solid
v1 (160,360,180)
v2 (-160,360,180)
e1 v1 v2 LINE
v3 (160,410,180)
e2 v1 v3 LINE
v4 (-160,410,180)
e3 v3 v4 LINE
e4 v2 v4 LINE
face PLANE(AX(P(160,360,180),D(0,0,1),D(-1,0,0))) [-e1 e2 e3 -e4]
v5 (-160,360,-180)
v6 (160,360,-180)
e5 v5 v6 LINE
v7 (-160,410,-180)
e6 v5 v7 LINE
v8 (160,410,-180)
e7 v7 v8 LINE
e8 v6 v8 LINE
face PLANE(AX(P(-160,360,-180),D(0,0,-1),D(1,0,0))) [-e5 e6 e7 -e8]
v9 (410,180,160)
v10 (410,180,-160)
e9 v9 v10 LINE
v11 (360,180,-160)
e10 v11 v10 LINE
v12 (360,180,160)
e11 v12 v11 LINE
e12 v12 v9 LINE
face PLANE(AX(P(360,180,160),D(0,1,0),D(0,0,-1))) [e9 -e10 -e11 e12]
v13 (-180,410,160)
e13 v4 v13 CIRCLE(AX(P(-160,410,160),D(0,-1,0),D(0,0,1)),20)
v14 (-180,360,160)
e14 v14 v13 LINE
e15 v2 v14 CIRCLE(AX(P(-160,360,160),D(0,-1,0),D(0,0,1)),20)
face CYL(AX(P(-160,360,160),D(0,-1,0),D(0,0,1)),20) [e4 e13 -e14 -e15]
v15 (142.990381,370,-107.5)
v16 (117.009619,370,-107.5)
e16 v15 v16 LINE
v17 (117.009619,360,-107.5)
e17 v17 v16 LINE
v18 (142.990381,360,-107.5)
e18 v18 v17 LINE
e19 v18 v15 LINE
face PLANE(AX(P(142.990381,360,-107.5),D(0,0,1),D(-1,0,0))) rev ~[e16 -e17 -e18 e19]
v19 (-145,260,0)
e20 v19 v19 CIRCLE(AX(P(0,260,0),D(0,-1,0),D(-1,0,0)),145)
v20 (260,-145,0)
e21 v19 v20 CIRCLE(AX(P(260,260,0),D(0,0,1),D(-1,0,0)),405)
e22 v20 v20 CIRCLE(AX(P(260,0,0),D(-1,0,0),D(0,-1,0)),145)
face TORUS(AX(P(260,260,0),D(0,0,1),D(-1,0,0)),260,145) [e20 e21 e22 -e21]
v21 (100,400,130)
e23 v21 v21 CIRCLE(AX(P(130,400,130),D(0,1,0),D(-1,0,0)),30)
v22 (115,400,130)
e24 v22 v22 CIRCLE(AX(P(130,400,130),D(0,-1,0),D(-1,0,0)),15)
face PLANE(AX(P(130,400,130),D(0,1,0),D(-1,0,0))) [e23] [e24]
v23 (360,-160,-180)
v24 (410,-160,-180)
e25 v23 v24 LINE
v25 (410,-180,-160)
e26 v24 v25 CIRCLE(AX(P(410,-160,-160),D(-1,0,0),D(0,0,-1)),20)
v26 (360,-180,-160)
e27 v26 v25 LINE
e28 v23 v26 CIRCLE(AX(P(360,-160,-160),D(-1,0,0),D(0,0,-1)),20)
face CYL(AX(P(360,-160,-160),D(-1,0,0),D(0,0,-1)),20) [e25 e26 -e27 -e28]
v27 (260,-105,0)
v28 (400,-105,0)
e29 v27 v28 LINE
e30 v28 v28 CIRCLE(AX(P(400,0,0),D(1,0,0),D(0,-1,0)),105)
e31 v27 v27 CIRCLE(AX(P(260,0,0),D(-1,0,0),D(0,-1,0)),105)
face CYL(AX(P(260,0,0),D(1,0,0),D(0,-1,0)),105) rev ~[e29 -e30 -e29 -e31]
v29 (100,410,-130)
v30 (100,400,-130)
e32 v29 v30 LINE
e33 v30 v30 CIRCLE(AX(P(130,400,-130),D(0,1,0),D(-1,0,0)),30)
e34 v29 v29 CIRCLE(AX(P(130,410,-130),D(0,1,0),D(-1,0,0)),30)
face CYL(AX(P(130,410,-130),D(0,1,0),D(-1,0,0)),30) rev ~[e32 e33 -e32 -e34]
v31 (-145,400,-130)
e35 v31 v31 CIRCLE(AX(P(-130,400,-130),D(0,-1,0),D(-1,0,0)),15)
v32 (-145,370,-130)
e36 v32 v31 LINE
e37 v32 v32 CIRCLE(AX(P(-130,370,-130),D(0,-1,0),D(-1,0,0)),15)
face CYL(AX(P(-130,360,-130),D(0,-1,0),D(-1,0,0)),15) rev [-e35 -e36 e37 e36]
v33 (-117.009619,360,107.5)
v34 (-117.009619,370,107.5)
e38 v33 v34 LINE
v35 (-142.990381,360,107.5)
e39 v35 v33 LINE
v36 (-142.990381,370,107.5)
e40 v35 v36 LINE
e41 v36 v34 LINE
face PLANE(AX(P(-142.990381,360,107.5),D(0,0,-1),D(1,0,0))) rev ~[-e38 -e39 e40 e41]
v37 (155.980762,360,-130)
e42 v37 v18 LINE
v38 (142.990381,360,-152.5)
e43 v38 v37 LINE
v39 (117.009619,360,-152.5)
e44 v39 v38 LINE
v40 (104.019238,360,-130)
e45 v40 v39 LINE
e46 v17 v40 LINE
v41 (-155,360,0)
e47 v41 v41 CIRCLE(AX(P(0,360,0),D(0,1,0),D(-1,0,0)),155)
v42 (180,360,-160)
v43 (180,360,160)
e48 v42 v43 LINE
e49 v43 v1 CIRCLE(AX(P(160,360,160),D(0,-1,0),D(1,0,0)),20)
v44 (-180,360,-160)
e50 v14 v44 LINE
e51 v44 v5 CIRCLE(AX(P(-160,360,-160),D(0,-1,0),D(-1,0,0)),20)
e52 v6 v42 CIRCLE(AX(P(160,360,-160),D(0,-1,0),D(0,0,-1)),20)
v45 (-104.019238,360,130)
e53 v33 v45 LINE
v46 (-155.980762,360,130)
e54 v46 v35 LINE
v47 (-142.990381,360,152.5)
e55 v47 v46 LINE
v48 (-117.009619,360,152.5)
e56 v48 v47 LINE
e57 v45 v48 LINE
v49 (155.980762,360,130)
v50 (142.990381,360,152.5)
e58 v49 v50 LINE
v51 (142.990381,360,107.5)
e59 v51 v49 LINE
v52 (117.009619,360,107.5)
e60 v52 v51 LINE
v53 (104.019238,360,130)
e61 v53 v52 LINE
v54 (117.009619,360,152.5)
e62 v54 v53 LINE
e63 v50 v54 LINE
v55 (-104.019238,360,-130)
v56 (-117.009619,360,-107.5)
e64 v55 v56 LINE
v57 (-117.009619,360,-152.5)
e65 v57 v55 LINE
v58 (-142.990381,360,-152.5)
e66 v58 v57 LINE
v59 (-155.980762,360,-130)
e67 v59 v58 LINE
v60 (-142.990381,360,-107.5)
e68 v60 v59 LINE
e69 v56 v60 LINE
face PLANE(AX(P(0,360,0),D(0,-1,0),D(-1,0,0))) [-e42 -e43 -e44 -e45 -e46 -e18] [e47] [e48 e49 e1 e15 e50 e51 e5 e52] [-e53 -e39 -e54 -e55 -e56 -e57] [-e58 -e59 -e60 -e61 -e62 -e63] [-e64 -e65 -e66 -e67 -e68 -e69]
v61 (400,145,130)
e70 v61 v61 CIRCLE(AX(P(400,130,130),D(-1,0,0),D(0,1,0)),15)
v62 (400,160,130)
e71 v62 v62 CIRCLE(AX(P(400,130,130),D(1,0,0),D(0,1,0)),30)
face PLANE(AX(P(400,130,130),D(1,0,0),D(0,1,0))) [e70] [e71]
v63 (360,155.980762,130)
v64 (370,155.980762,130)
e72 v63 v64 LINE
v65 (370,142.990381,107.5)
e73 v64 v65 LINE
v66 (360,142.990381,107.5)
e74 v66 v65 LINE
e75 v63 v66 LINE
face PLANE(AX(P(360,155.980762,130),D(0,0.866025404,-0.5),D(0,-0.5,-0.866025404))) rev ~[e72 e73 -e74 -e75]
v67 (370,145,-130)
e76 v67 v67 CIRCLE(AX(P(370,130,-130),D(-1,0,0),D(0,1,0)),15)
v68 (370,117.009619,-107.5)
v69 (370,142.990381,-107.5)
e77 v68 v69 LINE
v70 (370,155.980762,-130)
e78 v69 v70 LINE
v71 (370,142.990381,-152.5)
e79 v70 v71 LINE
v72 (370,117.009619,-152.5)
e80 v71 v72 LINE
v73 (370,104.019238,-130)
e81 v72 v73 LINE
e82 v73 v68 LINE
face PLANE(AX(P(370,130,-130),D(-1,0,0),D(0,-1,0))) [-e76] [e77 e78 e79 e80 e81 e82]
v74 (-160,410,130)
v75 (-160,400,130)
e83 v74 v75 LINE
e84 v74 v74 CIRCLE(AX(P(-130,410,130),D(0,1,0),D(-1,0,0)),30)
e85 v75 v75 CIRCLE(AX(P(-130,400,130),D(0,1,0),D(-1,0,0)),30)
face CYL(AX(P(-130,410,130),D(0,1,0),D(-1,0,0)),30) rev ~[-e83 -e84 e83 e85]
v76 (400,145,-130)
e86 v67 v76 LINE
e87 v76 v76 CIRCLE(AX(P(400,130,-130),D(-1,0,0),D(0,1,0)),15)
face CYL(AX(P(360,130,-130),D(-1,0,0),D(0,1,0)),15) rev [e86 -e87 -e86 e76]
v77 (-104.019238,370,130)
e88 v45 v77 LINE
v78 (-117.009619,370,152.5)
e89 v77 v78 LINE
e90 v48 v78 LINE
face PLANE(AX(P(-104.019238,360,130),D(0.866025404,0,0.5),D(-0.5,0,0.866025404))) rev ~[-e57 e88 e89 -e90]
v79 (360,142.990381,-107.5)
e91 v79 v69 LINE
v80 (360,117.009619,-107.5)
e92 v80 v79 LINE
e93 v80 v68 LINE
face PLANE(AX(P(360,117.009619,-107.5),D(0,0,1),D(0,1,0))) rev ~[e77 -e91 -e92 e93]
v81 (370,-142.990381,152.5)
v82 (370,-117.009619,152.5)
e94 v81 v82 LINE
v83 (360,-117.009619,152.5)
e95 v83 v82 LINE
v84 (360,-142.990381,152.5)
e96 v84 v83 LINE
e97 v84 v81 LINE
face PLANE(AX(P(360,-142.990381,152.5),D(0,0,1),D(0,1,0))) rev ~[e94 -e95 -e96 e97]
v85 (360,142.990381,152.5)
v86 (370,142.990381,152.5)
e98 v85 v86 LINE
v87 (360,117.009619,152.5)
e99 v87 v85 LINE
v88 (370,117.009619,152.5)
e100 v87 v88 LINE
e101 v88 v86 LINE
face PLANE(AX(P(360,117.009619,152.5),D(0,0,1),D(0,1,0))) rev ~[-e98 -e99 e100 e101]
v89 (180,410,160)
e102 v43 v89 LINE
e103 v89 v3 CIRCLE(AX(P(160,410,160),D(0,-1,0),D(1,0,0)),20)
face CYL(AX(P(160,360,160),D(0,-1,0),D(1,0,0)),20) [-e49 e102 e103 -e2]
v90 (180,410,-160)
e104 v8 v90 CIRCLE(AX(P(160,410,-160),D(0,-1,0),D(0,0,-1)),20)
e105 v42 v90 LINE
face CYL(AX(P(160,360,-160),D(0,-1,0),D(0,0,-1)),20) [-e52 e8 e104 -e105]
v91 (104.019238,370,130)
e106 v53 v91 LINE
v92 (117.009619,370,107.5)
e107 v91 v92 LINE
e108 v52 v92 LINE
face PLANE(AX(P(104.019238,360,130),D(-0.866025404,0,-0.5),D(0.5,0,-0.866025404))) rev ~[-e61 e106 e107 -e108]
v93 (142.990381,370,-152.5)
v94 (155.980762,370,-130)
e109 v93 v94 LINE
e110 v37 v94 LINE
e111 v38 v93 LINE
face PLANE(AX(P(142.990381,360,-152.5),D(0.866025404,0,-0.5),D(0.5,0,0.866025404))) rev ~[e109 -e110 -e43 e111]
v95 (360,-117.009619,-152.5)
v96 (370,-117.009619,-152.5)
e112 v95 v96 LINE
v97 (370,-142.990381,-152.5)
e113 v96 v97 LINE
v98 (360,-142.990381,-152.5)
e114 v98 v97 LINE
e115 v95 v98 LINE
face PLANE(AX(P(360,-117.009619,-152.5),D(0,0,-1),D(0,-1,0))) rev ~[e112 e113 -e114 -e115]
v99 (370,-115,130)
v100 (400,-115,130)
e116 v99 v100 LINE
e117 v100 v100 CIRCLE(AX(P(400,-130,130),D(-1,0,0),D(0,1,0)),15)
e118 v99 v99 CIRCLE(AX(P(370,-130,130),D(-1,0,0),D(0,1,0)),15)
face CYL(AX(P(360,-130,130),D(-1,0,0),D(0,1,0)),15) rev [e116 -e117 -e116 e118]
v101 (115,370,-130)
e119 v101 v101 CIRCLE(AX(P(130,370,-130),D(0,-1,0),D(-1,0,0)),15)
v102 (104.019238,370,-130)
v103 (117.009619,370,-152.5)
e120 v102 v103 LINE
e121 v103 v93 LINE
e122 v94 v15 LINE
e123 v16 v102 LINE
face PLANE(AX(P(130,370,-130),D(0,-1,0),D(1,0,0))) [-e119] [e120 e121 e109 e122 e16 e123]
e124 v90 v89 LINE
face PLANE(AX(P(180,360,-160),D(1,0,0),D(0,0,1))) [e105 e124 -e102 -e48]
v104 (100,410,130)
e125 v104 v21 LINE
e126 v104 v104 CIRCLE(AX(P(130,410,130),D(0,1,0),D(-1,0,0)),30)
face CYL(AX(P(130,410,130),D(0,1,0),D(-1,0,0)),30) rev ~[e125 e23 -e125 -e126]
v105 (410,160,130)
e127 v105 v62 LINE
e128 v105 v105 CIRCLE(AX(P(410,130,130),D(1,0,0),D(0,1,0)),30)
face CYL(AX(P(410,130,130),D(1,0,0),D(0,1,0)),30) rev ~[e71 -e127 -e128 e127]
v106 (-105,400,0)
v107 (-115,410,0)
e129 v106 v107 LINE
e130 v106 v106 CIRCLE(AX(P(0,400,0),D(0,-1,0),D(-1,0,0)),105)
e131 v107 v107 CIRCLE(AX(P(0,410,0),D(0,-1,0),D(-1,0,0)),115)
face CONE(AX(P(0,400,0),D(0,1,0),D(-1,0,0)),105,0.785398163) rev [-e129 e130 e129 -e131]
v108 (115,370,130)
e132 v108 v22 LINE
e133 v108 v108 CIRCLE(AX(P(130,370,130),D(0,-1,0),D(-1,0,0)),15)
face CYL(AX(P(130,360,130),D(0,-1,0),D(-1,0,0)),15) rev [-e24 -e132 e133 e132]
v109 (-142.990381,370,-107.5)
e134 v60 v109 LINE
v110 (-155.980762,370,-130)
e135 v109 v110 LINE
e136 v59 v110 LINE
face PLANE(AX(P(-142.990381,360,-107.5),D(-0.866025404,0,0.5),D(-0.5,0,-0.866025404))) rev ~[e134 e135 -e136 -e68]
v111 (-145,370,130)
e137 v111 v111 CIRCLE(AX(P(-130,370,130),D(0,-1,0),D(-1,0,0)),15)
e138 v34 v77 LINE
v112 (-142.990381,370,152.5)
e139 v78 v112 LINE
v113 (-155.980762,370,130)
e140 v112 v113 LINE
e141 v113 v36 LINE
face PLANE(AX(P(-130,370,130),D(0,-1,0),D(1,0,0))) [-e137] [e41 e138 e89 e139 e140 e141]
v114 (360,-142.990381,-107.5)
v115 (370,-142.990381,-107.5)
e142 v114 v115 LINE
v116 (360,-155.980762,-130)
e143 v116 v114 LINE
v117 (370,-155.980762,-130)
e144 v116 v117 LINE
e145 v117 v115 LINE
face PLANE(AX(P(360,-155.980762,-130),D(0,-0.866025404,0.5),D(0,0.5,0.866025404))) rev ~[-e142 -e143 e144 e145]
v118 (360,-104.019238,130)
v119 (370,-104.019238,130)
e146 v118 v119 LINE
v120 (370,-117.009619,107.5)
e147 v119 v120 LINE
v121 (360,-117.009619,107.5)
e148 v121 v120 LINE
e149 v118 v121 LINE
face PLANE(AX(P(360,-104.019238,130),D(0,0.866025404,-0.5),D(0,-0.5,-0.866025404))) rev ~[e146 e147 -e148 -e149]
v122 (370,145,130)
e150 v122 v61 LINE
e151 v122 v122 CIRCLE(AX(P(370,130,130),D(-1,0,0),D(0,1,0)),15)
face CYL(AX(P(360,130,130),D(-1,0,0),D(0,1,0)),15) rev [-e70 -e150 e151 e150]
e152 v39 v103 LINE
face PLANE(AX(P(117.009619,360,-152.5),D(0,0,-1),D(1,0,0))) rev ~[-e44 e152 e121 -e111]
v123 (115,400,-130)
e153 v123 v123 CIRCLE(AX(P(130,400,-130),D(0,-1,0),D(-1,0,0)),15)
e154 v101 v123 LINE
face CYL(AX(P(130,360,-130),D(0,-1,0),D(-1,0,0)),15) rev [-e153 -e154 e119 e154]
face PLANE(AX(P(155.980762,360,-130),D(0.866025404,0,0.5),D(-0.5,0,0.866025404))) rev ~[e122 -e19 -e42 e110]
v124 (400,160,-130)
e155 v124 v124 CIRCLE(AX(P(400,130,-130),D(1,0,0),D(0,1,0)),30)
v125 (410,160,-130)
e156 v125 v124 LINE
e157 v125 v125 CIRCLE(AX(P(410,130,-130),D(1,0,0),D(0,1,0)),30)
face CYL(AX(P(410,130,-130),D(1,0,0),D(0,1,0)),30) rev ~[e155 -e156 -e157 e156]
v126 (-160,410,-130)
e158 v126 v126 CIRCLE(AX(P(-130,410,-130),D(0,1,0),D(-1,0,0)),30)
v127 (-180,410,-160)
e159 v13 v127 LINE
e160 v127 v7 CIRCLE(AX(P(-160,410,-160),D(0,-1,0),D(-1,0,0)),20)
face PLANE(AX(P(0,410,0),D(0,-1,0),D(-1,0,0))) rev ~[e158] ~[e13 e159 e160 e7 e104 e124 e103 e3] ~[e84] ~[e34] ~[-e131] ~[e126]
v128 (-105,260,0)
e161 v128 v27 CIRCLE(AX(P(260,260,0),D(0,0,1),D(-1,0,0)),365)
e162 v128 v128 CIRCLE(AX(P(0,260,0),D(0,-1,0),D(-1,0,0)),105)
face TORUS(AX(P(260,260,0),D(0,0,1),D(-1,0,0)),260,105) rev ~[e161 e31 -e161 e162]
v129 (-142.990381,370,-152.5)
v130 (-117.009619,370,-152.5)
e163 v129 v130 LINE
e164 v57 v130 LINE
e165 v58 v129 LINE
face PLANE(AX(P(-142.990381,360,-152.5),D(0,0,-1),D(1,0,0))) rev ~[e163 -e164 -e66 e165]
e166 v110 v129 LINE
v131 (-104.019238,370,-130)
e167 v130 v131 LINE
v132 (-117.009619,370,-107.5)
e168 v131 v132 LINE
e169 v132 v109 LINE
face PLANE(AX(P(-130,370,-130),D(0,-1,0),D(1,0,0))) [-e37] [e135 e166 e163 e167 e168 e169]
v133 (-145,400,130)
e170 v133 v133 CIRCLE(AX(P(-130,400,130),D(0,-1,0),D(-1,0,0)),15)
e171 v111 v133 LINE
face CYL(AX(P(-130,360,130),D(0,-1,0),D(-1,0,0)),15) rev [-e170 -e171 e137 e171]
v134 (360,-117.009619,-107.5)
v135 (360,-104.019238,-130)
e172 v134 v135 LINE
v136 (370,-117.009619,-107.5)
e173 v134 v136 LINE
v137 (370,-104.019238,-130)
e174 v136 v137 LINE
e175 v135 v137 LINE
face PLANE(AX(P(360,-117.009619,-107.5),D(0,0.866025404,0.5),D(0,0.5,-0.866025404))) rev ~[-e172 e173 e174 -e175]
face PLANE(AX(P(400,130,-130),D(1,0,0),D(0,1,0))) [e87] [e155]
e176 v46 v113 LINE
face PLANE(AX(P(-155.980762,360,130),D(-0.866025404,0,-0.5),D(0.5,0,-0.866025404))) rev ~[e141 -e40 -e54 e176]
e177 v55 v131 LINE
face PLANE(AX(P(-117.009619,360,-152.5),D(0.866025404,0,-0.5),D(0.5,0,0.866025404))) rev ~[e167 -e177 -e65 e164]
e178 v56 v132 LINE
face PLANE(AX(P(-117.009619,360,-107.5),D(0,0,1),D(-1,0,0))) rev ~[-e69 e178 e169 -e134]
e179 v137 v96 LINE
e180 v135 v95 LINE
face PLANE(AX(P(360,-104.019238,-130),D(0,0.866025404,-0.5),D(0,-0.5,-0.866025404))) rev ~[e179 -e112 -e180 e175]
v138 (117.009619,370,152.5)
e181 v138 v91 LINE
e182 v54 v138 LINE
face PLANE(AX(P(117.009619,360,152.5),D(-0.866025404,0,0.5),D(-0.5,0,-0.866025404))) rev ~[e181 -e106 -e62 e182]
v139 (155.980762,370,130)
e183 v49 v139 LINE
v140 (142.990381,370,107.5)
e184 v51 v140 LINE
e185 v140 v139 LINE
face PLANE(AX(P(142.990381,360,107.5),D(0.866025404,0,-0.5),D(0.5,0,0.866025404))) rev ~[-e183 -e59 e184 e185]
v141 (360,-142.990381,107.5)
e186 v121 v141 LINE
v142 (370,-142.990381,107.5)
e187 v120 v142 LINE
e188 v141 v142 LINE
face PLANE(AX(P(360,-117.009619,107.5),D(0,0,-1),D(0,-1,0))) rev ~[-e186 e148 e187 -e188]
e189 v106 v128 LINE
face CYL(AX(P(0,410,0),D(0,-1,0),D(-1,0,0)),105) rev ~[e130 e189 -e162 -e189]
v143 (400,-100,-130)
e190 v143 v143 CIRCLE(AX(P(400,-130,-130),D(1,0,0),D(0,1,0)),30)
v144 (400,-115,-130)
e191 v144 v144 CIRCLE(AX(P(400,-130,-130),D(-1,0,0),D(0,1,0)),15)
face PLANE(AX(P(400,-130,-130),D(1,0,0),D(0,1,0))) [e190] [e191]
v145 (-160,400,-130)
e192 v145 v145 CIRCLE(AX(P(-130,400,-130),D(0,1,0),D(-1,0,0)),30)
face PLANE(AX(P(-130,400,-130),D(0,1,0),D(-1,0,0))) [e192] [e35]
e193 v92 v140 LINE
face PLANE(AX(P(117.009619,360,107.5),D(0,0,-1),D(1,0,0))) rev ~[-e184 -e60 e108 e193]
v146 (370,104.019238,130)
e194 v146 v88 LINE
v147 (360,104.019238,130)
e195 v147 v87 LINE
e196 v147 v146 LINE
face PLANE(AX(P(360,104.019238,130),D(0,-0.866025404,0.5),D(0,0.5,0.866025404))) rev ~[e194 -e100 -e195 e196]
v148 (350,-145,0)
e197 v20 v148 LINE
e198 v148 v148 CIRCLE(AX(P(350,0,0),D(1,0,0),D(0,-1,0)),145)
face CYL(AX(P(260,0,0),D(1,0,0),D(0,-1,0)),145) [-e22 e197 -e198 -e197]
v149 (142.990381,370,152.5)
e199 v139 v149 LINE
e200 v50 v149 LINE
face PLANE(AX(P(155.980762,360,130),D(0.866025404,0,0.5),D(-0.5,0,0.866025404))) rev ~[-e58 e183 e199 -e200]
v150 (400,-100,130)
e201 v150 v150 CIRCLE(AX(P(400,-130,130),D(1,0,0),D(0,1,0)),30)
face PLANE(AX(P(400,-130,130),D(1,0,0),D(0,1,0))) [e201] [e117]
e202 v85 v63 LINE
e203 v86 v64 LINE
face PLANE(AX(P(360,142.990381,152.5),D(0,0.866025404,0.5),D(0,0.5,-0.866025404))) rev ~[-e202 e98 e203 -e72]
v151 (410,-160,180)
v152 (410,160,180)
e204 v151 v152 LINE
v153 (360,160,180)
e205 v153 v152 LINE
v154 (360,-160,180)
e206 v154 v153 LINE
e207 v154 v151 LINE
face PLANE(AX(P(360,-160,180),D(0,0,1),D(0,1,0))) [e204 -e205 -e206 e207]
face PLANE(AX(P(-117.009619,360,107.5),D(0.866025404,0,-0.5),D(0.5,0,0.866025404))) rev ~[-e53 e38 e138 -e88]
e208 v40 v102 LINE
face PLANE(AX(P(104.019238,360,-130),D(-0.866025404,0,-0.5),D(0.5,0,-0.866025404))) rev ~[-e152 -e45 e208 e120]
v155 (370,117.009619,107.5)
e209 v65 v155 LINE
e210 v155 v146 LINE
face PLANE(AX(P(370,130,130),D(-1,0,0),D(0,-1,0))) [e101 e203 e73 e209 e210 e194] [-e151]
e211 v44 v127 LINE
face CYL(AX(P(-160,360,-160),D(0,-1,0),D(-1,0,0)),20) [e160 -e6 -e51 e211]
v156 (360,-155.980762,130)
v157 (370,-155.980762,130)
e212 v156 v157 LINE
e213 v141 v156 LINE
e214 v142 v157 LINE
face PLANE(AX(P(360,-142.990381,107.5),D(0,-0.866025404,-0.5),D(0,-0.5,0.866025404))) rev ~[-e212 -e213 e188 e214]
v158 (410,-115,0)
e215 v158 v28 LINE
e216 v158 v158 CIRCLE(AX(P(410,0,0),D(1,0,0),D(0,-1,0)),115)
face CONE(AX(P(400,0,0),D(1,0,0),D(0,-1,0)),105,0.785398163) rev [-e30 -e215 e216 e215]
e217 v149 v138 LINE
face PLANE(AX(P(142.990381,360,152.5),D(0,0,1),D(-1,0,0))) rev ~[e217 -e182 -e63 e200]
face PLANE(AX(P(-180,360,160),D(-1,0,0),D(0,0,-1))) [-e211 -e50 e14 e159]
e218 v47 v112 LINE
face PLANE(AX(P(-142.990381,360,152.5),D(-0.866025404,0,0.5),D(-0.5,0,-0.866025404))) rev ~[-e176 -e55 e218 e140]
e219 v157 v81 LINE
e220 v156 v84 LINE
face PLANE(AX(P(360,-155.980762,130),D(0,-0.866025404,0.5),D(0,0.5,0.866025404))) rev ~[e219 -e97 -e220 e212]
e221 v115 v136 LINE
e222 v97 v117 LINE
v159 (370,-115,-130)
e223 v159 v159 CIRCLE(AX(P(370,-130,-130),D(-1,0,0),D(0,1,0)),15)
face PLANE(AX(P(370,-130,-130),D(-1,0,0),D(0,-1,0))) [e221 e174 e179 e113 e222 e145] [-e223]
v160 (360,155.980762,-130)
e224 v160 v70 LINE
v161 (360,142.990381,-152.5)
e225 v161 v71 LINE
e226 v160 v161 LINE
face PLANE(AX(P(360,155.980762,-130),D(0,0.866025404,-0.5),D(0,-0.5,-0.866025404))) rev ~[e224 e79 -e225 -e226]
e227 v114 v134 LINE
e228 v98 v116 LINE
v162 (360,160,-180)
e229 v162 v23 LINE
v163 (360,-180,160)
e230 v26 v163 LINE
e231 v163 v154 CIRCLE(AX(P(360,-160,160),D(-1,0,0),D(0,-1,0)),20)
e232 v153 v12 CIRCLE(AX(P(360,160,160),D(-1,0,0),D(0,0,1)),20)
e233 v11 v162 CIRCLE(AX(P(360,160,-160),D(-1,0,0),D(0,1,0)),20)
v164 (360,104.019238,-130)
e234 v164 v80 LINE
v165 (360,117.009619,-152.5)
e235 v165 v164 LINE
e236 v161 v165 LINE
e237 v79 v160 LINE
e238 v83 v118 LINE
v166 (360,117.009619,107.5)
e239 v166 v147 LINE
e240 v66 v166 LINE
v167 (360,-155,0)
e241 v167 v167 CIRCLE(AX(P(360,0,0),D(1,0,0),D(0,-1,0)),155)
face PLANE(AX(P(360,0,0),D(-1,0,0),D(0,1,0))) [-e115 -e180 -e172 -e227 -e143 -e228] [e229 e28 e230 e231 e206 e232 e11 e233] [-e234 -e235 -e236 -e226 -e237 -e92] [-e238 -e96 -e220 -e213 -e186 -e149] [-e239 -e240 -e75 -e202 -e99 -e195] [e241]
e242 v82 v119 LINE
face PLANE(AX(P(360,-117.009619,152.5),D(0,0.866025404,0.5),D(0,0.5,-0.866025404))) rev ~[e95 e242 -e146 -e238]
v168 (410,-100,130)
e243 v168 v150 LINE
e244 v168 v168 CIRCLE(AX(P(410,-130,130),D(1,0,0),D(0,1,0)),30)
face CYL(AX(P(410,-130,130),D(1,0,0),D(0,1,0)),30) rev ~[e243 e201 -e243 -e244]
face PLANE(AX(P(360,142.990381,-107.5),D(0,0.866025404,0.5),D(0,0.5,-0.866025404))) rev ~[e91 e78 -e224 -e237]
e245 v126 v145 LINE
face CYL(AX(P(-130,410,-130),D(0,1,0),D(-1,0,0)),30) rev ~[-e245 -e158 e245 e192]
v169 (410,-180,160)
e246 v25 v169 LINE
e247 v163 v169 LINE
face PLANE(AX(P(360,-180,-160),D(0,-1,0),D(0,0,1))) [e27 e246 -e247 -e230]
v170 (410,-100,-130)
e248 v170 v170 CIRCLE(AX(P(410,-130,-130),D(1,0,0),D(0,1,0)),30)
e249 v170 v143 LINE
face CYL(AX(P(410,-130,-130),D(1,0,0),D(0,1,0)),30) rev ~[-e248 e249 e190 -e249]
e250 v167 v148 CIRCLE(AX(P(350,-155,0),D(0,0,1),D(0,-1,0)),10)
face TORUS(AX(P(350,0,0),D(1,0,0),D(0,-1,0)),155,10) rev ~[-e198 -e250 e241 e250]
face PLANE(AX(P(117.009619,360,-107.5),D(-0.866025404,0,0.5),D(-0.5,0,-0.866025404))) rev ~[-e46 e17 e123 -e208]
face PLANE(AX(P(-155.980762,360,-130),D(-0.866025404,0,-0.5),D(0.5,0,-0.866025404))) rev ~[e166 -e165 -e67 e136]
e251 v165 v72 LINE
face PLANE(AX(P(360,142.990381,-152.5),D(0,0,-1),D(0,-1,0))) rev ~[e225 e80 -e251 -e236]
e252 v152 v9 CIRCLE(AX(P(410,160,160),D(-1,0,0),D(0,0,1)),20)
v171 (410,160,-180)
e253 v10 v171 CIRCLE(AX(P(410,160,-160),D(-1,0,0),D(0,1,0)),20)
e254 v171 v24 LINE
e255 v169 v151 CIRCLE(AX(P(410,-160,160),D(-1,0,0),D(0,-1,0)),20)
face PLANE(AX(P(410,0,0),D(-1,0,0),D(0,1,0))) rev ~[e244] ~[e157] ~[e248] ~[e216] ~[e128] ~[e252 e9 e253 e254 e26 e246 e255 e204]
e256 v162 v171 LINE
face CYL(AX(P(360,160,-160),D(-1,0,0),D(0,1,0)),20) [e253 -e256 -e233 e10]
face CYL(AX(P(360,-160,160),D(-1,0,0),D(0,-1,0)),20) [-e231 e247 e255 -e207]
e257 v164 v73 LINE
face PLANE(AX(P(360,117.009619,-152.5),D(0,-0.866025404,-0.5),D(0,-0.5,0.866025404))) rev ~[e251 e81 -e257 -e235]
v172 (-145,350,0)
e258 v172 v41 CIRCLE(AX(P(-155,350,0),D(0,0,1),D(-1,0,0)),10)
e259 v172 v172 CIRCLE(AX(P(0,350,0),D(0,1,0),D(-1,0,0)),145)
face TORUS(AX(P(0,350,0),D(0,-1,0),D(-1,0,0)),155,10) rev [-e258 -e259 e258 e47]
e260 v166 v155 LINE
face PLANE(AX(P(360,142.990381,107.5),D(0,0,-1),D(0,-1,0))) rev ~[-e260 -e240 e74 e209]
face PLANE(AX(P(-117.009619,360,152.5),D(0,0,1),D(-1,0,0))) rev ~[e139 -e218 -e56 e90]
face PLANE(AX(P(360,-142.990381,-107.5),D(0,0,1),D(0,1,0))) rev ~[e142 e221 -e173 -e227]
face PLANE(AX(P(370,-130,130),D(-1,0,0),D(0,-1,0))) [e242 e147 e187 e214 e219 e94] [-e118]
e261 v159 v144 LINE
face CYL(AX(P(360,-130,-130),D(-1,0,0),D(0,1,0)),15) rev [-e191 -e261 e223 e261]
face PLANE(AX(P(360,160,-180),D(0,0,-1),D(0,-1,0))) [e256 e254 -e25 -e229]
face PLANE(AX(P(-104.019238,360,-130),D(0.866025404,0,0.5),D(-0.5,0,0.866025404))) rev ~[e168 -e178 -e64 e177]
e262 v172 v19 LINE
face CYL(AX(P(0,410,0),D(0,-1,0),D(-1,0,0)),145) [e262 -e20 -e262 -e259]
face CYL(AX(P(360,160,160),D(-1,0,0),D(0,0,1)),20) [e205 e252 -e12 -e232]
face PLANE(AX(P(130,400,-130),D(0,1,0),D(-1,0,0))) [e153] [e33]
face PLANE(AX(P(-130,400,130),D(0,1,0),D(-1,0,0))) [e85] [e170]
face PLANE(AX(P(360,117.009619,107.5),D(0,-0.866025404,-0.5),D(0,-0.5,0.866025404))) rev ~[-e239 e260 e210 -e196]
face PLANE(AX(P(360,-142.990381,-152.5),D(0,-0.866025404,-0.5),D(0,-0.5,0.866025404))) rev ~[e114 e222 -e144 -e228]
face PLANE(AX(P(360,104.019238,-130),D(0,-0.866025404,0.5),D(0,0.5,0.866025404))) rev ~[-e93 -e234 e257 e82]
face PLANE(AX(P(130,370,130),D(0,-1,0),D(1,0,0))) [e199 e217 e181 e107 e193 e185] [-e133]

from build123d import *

# Parameters (mm, degrees)
SWEEP_THIN1_PROFILE_R   = 145
SWEEP_THIN1_PROFILE_R_2 = 105
BOSS_EXTRUDE1_START     = -50
SKETCH16_R              = 15
SKETCH16_R_2            = 145
BOSS_EXTRUDE1_DEPTH     = 50
SKETCH17_R              = 30
CUT_EXTRUDE1_DEPTH      = 10
CIRPATTERN1_COUNT       = 2
CIRPATTERN1_ANGLE       = 90
CHAMFER1_SIZE           = 10
FILLET1_R               = 10
CUT_EXTRUDE3_DEPTH      = 10
CIRPATTERN4_COUNT       = 2
CIRPATTERN4_ANGLE       = 90


with BuildPart() as part:
    # Sweep-Thin1: sweep along a path in Sketch1
    with BuildLine(Plane.XY) as sweep_thin1_path:
        Line((0, 410), (0, 260))
        ThreePointArc((0, 260), (76.152236891, 76.152236891), (260, 0))
        Line((260, 0), (410, 0))
    # Sweep-Thin1 profile (on start of the path) → Sweep-Thin1 (sweep)
    with BuildSketch(Plane(origin=(0, 410, 0), x_dir=(-1, 0, 0), z_dir=(0, -1, 0))):
        Circle(SWEEP_THIN1_PROFILE_R)
        Circle(SWEEP_THIN1_PROFILE_R_2, mode=Mode.SUBTRACT)
    sweep(path=sweep_thin1_path.line)

    # Sketch16 → Boss-Extrude1 (add)
    with BuildSketch(Plane(origin=(0, 410, 0), x_dir=(1, 0, 0), z_dir=(0, 1, 0)).offset(BOSS_EXTRUDE1_START)):
        with BuildLine():
            Line((-160, 180), (160, 180))
            ThreePointArc((160, 180), (174.142135624, 174.142135624), (180, 160))
            Line((180, 160), (180, -160))
            ThreePointArc((180, -160), (174.142135624, -174.142135624), (160, -180))
            Line((160, -180), (-160, -180))
            ThreePointArc((-160, -180), (-174.142135624, -174.142135624), (-180, -160))
            Line((-180, -160), (-180, 160))
            ThreePointArc((-180, 160), (-174.142135624, 174.142135624), (-160, 180))
        make_face()
        with Locations(Location((-130, -130, 0), (0, 0, 180))):
            Circle(SKETCH16_R, mode=Mode.SUBTRACT)
        with Locations(Location((130, -130, 0), (0, 0, 180))):
            Circle(SKETCH16_R, mode=Mode.SUBTRACT)
        with Locations(Location((-130, 130, 0), (0, 0, 180))):
            Circle(SKETCH16_R, mode=Mode.SUBTRACT)
        with Locations(Location((130, 130, 0), (0, 0, 180))):
            Circle(SKETCH16_R, mode=Mode.SUBTRACT)
        with Locations(Location((0, 0, 0), (0, 0, 180))):
            Circle(SKETCH16_R_2, mode=Mode.SUBTRACT)
    boss_extrude1 = extrude(amount=BOSS_EXTRUDE1_DEPTH)

    # Sketch17 → Cut-Extrude1 (cut)
    with BuildSketch(Plane(origin=(0, 410, 0), x_dir=(1, 0, 0), z_dir=(0, 1, 0))):
        with Locations(Location((-130, 130, 0), (0, 0, 180))):
            Circle(SKETCH17_R)
        with Locations(Location((130, 130, 0), (0, 0, 180))):
            Circle(SKETCH17_R)
        with Locations(Location((130, -130, 0), (0, 0, 180))):
            Circle(SKETCH17_R)
        with Locations(Location((-130, -130, 0), (0, 0, 180))):
            Circle(SKETCH17_R)
    cut_extrude1 = extrude(amount=-CUT_EXTRUDE1_DEPTH, mode=Mode.SUBTRACT)

    # CirPattern1: Boss-Extrude1, Cut-Extrude1 ×2 about axis
    cirpattern1_axis = Axis((0, 0, 0), (0, 0, -1))
    add([boss_extrude1.rotate(cirpattern1_axis, i * CIRPATTERN1_ANGLE / (CIRPATTERN1_COUNT - 1)) for i in range(1, CIRPATTERN1_COUNT)])
    add([cut_extrude1.rotate(cirpattern1_axis, i * CIRPATTERN1_ANGLE / (CIRPATTERN1_COUNT - 1)) for i in range(1, CIRPATTERN1_COUNT)], mode=Mode.SUBTRACT)

    # Chamfer1
    chamfer1_edges = [part.edges().sort_by_distance(p)[0] for p in [
        (105, 410, 0),
        (410, 105, 0),
    ]]
    chamfer(chamfer1_edges, length=CHAMFER1_SIZE)

    # Fillet1
    fillet1_edges = [part.edges().sort_by_distance(p)[0] for p in [
        (145, 360, 0),
        (360, 145, 0),
    ]]
    fillet(fillet1_edges, radius=FILLET1_R)

    # Sketch25 → Cut-Extrude3 (cut)
    with BuildSketch(Plane.XZ.offset(-360)):
        Polygon((-104.019237886, -130), (-117.009618943, -107.5), (-142.990381057, -107.5), (-155.980762114, -130), (-142.990381057, -152.5), (-117.009618943, -152.5), align=None)
        Polygon((104.019237886, 130), (117.009618943, 107.5), (142.990381057, 107.5), (155.980762114, 130), (142.990381057, 152.5), (117.009618943, 152.5), align=None)
        Polygon((117.009618943, -107.5), (104.019237886, -130), (117.009618943, -152.5), (142.990381057, -152.5), (155.980762114, -130), (142.990381057, -107.5), align=None)
        Polygon((-142.990381057, 152.5), (-155.980762114, 130), (-142.990381057, 107.5), (-117.009618943, 107.5), (-104.019237886, 130), (-117.009618943, 152.5), align=None)
    cut_extrude3 = extrude(amount=-CUT_EXTRUDE3_DEPTH, mode=Mode.SUBTRACT)

    # CirPattern4: Cut-Extrude3 ×2 about axis
    cirpattern4_axis = Axis((0, 0, 0), (0, 0, -1))
    for i in range(1, CIRPATTERN4_COUNT):
        add(cut_extrude3.rotate(cirpattern4_axis, i * CIRPATTERN4_ANGLE / (CIRPATTERN4_COUNT - 1)), mode=Mode.SUBTRACT)


solid = part.part
